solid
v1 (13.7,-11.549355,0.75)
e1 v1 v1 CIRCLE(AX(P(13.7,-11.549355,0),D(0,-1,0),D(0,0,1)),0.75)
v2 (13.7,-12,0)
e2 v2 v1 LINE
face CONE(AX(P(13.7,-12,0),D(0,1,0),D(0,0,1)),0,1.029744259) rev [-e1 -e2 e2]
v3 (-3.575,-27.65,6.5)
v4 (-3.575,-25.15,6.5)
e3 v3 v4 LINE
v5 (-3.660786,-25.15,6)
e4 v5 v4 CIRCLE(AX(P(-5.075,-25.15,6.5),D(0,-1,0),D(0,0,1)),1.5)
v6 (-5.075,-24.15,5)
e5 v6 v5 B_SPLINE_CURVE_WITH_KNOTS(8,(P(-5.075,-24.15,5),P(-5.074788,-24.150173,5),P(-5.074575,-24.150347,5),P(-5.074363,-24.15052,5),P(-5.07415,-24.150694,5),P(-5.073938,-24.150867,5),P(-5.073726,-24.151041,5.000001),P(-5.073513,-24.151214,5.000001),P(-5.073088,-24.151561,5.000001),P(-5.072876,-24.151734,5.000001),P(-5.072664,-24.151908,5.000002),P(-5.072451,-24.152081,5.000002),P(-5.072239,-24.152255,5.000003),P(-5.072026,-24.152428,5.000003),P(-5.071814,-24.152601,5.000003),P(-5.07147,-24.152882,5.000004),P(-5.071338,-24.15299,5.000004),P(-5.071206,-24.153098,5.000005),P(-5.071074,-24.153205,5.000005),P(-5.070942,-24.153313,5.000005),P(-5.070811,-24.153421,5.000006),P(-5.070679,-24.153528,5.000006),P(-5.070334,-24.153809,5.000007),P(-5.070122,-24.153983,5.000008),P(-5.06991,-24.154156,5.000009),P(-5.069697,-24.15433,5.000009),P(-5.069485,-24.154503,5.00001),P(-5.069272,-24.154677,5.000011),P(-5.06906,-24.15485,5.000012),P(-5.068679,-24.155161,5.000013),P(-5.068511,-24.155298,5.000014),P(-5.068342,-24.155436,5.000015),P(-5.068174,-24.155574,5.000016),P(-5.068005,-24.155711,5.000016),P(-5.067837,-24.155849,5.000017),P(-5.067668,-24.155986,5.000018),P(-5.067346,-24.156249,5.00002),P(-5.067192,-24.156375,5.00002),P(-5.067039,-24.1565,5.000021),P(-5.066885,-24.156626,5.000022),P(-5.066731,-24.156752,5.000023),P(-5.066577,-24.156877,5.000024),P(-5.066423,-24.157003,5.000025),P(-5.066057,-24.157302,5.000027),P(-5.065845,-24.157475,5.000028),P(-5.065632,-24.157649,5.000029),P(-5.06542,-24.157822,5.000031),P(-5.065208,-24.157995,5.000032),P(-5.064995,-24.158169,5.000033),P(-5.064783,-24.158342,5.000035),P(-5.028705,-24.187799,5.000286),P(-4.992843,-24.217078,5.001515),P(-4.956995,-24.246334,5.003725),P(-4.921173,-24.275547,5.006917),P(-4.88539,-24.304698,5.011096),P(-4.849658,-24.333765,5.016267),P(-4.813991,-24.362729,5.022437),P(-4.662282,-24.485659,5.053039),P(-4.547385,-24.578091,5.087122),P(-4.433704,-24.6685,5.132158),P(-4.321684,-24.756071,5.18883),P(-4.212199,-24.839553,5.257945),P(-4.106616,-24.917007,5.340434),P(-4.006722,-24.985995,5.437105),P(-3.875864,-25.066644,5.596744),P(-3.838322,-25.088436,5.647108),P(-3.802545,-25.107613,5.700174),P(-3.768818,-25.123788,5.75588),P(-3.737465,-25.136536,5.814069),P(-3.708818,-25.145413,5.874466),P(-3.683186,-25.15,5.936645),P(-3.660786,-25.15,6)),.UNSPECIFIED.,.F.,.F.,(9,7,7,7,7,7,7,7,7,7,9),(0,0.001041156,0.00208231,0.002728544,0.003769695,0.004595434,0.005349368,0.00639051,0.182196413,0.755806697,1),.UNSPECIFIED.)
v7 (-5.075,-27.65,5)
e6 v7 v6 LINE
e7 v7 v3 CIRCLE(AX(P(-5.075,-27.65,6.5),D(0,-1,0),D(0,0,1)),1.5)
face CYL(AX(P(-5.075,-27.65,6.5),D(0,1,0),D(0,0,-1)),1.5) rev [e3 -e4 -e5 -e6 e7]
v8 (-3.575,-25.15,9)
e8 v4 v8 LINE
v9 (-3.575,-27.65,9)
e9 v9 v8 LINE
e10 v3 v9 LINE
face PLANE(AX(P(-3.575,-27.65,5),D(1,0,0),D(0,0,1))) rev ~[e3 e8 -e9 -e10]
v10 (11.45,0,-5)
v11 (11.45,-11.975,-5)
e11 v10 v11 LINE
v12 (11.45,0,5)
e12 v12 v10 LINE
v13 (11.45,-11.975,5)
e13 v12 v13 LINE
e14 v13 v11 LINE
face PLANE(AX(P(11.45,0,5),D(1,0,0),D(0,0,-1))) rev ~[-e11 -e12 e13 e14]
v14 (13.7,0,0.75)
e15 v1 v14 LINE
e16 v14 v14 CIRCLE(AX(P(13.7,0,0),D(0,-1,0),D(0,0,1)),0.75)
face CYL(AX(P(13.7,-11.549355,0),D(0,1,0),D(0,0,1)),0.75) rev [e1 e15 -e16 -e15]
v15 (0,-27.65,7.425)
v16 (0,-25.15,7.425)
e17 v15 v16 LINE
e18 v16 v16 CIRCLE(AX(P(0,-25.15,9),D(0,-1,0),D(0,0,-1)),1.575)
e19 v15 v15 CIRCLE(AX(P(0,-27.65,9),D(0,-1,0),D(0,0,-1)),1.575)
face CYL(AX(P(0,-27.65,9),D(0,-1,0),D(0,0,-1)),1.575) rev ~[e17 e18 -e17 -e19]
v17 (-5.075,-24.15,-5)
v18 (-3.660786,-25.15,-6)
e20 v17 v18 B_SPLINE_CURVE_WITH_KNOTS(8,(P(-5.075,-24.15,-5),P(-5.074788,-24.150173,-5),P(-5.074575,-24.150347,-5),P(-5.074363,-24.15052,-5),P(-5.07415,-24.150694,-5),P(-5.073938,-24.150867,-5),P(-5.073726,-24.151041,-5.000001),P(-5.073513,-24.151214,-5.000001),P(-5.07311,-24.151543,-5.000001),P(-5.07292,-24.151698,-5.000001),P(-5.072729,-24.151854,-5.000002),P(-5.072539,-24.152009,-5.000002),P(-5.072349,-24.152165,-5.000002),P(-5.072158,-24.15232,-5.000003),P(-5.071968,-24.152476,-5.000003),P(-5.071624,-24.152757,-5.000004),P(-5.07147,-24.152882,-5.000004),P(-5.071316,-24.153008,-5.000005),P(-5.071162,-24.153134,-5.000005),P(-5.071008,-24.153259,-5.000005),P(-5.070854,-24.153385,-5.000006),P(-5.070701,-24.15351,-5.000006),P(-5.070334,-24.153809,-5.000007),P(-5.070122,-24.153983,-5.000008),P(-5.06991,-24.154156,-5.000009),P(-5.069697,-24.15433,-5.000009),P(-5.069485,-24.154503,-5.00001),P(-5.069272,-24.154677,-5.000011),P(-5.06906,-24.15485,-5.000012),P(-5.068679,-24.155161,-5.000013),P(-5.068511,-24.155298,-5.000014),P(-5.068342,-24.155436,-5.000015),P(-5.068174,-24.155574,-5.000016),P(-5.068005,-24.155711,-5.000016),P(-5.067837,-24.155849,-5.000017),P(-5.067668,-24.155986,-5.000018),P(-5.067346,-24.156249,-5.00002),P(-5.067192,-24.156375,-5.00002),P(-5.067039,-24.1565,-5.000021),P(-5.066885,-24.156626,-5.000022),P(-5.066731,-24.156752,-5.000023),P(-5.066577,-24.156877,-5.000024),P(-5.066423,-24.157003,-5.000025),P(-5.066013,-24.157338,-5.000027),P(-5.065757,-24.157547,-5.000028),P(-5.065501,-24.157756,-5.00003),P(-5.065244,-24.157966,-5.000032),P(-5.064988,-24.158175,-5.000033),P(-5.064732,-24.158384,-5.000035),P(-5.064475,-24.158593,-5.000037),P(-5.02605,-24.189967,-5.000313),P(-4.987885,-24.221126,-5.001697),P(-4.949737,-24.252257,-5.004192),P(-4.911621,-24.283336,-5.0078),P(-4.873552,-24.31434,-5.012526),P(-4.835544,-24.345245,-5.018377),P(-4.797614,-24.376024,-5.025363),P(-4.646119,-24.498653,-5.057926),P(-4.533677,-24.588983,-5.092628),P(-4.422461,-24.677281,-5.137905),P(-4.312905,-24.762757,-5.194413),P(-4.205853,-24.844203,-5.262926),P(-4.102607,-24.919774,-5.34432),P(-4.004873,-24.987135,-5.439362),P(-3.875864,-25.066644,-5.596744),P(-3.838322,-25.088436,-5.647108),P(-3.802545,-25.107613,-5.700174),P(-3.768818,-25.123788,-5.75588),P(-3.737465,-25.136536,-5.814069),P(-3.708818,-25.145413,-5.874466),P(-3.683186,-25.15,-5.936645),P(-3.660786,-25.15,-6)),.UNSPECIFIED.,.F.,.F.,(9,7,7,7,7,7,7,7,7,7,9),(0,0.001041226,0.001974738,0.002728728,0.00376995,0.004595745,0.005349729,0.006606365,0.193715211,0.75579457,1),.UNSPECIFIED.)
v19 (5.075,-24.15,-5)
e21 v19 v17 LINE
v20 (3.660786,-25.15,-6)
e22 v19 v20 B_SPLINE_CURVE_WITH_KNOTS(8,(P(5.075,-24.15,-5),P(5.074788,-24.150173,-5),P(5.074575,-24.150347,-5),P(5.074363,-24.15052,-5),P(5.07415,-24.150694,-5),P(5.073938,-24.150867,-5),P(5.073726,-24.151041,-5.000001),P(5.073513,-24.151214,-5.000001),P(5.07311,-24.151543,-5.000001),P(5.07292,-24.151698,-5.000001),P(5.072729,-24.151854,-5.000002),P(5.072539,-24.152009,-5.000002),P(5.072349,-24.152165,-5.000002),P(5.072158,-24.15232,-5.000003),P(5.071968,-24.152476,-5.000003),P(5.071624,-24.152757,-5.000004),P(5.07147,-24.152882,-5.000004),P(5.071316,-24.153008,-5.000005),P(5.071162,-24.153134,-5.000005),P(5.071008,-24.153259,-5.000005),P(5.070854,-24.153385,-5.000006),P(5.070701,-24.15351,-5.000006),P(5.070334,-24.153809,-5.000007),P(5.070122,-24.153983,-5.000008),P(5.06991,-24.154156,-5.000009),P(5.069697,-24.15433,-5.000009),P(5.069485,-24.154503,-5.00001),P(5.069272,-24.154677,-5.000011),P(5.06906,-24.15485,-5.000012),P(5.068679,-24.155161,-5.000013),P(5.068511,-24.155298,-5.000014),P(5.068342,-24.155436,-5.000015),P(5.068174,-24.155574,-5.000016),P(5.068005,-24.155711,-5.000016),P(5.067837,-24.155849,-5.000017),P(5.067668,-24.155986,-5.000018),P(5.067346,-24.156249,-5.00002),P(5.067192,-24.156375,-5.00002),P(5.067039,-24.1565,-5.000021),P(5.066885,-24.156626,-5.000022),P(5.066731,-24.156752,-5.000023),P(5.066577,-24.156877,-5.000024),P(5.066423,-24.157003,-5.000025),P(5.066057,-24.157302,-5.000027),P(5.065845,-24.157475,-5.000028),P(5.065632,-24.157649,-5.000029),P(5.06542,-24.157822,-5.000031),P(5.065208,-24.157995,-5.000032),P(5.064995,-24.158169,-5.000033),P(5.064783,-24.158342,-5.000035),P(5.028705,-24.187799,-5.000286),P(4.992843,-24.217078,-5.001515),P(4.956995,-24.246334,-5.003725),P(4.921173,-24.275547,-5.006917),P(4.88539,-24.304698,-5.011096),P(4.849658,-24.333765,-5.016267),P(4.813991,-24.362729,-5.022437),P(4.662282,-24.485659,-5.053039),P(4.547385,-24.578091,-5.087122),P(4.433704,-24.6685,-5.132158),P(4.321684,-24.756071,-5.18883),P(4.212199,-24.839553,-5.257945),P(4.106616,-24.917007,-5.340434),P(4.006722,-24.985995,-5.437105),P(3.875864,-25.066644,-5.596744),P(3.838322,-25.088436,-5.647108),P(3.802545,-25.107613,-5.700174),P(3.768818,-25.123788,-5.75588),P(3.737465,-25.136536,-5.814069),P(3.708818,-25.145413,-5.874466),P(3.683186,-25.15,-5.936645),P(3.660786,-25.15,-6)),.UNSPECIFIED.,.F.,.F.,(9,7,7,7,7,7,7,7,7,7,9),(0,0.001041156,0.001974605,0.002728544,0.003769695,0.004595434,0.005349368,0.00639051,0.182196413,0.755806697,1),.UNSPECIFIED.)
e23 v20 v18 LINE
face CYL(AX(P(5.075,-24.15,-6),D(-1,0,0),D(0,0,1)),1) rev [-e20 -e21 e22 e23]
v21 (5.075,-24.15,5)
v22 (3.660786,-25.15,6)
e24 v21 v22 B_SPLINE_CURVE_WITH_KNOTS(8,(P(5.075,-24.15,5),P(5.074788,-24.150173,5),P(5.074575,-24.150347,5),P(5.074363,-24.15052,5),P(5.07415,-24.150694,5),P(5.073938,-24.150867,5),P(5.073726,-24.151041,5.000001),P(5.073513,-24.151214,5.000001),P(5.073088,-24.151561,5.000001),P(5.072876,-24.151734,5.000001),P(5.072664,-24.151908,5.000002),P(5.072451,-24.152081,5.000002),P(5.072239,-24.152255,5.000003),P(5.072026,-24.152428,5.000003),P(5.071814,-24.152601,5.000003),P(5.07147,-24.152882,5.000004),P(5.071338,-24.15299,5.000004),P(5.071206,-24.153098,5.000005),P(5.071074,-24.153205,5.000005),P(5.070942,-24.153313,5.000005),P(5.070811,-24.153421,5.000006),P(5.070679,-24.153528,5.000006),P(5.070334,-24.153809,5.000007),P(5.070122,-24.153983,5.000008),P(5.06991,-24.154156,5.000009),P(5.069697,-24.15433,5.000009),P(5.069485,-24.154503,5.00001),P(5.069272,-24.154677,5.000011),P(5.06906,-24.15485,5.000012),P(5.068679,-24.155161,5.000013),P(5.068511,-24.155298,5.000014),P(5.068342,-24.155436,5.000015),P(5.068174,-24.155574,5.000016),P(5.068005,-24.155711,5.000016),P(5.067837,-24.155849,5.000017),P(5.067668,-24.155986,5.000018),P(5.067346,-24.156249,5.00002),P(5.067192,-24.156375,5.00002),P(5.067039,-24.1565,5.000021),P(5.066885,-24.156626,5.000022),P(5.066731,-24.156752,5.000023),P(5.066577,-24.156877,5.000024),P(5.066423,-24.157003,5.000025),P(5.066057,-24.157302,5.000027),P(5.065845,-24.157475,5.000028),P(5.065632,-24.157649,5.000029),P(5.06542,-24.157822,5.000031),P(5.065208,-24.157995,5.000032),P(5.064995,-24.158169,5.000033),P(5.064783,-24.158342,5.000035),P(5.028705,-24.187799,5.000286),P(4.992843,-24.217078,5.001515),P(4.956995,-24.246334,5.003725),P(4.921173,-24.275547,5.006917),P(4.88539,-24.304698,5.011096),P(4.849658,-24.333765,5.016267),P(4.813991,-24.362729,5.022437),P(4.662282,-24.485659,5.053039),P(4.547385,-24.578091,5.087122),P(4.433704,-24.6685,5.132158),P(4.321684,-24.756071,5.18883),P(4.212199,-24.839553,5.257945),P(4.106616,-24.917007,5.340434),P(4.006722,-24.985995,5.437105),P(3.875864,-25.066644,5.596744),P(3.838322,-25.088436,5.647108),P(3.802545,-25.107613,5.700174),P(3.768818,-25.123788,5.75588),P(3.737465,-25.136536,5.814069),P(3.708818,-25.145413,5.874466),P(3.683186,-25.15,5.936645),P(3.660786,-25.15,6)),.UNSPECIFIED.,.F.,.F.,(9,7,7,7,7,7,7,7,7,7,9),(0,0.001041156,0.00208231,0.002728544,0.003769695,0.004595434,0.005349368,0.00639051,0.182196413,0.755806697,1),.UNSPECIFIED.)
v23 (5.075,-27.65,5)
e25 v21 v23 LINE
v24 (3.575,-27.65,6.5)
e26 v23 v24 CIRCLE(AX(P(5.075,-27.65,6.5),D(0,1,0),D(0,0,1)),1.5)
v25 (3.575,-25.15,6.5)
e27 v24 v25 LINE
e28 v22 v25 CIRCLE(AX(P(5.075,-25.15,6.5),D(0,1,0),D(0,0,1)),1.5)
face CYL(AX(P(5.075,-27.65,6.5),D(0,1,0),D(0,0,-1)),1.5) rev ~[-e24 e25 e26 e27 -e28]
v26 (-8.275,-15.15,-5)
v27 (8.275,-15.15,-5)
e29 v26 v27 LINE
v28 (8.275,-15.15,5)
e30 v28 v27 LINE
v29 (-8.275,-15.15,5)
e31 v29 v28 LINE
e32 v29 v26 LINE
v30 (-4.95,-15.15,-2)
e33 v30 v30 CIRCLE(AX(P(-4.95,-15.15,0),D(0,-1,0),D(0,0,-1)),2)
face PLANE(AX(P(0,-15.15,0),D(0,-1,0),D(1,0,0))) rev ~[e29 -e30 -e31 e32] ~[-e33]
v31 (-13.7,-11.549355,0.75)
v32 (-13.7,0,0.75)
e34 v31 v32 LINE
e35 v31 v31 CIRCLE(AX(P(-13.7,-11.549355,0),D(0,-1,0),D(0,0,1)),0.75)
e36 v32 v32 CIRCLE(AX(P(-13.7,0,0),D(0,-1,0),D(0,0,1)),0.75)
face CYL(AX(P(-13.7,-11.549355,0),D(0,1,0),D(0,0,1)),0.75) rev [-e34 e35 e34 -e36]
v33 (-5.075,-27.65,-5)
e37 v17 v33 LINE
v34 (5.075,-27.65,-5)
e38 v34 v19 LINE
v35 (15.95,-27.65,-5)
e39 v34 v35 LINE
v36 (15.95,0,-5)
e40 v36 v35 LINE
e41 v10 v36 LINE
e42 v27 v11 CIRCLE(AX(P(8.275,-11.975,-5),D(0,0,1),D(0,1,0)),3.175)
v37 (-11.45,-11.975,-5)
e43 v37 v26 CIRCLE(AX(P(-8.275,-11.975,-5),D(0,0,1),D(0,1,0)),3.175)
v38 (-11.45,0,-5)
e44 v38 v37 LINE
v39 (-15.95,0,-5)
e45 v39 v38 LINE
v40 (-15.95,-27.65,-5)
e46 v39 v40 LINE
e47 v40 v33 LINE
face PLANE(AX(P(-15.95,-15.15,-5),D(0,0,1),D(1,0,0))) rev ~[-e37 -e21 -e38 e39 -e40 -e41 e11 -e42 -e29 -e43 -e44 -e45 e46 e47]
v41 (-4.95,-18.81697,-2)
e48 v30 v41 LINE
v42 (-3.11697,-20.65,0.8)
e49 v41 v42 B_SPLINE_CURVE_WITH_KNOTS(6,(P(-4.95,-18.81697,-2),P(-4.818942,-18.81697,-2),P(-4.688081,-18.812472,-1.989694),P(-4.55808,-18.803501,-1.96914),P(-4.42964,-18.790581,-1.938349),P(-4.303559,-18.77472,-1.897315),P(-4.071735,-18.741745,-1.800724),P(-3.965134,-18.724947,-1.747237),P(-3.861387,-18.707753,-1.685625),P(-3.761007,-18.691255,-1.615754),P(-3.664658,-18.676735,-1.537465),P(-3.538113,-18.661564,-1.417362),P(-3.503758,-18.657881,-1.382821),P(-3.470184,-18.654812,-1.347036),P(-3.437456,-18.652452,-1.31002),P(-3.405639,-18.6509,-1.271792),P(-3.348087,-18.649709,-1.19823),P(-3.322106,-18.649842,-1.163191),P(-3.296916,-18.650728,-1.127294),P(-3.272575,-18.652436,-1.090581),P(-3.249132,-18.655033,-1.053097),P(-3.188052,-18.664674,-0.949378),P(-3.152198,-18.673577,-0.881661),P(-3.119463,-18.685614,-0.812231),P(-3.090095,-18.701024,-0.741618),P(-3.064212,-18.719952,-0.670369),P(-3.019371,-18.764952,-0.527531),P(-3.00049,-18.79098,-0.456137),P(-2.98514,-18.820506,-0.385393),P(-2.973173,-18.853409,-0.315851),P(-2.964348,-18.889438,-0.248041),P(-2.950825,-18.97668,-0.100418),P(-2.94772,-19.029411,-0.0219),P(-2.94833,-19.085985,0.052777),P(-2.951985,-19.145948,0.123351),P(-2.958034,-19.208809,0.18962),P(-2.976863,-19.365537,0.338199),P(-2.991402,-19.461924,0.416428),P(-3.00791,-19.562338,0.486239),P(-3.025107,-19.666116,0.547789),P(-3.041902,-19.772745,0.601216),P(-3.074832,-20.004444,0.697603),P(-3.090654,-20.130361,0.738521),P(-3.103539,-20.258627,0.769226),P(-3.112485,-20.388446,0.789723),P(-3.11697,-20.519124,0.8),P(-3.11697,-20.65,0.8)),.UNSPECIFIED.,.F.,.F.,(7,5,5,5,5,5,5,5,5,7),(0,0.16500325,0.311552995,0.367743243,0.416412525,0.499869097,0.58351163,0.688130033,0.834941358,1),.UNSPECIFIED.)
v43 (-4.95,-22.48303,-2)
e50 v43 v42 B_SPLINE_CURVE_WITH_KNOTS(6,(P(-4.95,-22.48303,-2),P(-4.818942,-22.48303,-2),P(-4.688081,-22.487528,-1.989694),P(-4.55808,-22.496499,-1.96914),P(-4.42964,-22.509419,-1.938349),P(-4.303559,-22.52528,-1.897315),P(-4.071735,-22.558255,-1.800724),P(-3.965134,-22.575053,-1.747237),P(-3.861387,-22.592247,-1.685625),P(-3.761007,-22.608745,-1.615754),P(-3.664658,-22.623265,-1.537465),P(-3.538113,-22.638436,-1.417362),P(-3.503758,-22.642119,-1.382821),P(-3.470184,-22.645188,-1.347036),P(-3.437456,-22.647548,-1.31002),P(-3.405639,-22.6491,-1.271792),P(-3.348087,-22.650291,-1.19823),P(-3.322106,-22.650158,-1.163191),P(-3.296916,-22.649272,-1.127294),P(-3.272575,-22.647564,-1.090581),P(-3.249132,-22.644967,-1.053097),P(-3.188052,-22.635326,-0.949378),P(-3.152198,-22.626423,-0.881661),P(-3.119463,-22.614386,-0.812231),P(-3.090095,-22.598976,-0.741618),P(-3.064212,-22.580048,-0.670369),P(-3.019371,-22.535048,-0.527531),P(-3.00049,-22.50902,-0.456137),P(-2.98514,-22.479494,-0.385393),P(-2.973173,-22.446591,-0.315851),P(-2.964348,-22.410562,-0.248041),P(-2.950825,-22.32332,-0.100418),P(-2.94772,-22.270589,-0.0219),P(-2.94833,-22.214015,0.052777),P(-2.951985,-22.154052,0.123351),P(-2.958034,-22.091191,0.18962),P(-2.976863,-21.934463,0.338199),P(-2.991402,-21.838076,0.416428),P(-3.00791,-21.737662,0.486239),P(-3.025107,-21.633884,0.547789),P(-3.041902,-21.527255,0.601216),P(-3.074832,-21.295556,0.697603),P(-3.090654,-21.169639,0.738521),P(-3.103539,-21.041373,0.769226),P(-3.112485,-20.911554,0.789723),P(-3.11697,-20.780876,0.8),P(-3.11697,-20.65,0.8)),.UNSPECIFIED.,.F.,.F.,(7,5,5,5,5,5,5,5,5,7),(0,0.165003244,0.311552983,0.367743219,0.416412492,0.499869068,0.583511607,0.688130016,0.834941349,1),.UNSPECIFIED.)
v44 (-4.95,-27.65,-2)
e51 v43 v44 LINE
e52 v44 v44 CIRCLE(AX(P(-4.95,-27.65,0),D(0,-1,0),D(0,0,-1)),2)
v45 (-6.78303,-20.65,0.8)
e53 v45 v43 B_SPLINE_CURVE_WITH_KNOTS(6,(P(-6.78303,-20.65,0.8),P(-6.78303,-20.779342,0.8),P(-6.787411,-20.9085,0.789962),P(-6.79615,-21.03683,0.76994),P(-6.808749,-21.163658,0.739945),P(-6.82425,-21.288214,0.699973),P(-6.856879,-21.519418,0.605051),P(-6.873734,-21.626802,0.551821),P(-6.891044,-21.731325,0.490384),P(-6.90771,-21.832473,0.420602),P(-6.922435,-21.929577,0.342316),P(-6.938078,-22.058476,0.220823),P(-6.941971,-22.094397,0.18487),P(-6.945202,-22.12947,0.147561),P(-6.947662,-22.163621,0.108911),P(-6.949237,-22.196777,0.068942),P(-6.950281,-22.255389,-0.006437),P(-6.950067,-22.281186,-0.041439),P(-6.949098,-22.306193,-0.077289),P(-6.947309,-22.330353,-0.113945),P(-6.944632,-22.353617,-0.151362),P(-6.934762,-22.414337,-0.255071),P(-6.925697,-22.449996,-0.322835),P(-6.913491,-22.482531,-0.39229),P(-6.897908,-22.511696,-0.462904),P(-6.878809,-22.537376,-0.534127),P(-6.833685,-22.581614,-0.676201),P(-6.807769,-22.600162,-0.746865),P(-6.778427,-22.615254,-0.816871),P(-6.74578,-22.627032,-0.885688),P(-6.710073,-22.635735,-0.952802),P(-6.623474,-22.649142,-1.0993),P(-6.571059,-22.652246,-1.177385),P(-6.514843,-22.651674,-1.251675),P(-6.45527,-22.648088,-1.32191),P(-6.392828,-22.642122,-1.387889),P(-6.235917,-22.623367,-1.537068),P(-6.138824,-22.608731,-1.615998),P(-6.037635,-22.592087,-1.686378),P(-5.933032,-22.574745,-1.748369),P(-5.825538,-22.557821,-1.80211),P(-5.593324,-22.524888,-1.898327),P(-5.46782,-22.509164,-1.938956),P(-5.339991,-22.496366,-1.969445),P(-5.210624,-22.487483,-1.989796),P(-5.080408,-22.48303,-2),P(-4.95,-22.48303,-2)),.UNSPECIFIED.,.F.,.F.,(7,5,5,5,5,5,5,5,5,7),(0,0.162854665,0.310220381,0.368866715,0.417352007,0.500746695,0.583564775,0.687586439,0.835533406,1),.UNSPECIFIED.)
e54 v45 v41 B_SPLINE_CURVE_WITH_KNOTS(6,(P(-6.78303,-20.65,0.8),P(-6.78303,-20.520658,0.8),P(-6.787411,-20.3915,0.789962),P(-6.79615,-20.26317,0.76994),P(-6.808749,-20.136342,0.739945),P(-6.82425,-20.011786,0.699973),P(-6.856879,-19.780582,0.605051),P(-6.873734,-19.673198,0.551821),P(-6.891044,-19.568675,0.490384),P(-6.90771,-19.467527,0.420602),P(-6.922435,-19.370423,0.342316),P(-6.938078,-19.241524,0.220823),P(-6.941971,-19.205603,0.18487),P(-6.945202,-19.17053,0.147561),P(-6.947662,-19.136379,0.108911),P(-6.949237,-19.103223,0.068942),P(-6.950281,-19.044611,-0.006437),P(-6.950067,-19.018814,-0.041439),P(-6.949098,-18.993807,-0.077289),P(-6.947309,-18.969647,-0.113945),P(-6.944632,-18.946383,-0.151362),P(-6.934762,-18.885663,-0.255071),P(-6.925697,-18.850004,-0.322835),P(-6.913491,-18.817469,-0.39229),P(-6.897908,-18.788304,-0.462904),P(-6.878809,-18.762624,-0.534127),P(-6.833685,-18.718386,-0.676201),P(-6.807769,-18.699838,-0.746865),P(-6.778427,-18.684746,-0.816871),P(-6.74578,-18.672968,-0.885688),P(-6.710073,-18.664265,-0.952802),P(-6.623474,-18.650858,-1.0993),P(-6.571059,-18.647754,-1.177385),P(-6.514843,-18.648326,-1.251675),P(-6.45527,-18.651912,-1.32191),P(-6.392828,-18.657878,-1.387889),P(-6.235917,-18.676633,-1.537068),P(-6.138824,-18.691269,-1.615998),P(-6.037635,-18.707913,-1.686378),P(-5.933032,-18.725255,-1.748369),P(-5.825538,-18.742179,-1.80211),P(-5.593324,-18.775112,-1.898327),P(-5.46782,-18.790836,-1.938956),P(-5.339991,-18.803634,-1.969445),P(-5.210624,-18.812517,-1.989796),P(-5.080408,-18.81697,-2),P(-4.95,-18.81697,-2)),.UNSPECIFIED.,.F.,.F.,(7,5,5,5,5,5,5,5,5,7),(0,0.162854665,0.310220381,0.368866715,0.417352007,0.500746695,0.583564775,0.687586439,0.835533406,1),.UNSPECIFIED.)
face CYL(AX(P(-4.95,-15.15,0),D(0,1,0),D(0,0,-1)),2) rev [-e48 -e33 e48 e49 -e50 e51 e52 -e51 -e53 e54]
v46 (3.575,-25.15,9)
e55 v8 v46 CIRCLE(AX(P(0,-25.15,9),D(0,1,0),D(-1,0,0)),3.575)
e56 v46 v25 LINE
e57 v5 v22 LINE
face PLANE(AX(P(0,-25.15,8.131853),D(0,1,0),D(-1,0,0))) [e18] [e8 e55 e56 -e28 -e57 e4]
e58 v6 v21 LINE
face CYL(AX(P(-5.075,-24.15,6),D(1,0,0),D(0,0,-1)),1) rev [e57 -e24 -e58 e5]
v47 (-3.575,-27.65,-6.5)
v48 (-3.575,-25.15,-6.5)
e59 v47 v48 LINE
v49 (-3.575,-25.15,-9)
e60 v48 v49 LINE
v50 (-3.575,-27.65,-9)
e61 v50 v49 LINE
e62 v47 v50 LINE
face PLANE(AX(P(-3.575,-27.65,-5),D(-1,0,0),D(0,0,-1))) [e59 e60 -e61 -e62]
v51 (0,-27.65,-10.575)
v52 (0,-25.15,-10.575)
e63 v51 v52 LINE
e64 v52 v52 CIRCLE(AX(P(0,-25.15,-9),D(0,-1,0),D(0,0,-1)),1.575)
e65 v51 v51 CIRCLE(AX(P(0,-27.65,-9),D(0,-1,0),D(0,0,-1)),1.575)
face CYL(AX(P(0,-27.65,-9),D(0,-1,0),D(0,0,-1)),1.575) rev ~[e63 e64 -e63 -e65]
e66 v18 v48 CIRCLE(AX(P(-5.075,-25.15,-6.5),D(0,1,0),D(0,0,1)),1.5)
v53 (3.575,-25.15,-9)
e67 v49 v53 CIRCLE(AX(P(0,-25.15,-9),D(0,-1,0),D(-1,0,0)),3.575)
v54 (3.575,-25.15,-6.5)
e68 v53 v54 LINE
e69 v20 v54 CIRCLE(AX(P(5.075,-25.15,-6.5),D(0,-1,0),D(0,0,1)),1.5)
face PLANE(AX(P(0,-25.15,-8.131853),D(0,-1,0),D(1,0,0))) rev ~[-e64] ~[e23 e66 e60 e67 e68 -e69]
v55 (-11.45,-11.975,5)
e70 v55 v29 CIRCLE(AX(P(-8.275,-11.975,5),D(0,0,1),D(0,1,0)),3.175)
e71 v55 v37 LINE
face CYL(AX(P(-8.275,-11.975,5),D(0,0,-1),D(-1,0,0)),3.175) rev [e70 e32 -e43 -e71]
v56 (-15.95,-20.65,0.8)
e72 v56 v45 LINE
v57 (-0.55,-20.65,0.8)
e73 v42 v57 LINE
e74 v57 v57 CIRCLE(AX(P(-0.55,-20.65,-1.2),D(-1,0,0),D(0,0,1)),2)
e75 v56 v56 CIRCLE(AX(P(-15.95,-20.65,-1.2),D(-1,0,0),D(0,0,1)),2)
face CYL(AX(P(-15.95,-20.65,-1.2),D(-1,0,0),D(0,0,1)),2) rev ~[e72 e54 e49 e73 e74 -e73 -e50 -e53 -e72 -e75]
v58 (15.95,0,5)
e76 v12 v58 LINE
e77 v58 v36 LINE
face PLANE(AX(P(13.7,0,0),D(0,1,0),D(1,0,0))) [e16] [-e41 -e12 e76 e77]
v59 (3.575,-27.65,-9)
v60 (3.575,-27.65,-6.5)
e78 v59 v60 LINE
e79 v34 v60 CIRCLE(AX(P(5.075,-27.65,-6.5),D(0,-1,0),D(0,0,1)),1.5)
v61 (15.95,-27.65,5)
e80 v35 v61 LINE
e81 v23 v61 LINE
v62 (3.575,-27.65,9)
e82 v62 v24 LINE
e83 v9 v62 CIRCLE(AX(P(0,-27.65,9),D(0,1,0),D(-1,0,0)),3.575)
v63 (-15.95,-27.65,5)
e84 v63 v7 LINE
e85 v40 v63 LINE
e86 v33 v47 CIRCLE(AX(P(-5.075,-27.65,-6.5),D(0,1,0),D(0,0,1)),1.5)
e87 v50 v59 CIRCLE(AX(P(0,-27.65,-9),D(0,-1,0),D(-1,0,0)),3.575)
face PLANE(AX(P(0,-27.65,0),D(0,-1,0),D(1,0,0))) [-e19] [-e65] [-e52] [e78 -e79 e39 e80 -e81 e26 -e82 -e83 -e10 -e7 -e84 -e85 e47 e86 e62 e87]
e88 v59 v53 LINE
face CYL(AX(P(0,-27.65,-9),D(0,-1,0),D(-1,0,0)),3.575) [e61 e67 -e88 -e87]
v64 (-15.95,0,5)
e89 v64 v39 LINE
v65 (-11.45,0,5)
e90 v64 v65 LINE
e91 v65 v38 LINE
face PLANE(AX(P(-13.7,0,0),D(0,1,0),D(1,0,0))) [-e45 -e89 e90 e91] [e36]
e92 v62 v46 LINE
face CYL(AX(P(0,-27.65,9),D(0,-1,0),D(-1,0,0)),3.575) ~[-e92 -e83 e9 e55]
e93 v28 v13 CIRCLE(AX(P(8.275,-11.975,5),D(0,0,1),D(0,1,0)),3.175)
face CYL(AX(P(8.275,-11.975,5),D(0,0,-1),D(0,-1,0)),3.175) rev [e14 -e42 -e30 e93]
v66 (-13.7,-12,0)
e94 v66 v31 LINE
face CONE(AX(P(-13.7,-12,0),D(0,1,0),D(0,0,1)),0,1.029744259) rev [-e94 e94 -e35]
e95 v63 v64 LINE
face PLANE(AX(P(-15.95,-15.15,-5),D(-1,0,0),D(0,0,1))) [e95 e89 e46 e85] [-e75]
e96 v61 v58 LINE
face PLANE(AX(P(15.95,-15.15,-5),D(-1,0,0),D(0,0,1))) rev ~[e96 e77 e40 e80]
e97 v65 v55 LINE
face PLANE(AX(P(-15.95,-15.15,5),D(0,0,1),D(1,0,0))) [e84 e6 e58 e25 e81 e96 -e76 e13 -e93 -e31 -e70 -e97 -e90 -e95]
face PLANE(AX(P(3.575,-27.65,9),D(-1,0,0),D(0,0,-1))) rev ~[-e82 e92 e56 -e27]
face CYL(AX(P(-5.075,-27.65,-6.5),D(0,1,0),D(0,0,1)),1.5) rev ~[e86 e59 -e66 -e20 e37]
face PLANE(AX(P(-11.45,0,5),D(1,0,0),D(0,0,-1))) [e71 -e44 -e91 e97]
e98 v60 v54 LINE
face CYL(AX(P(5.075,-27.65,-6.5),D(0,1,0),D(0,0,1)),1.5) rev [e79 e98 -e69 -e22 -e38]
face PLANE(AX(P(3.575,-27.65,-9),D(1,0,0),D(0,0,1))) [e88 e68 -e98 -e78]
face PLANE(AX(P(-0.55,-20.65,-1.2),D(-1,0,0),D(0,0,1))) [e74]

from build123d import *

# Parameters (mm, degrees)
SKETCH1_W                      = 4.5
SKETCH1_H                      = 10
BOSS_EXTRUDE1_DEPTH            = 15.15
BOSS_EXTRUDE1_2_DEPTH          = 15.15
F_1_5MM_DOWEL_HOLE1_AT_2_COUNT = 2
F_1_5MM_DOWEL_HOLE1_AT_2_PITCH = 27.4
SKETCH5_W                      = 31.9
SKETCH5_H                      = 10
SKETCH5_R                      = 2
BOSS_EXTRUDE2_DEPTH            = 12.5
FILLET1_R                      = 3.175
SKETCH6_R                      = 2
CUT_EXTRUDE1_DEPTH             = 15.4
SKETCH7_R                      = 1.575
BOSS_EXTRUDE3_DEPTH            = 2.5
FILLET3_R                      = 1.5
FILLET4_R                      = 1


with BuildPart() as part:
    # Sketch1 → Boss-Extrude1 (new body)
    with BuildSketch(Plane(origin=(0, 0, 0), x_dir=(1, 0, 0), z_dir=(0, 1, 0))):
        with Locations((-13.7, 0)):
            Rectangle(SKETCH1_W, SKETCH1_H)
    extrude(amount=-BOSS_EXTRUDE1_DEPTH)

    # Sketch4 → Ø1.5mm Dowel Hole1 (revolve, cut)
    with BuildSketch(Plane(origin=(-13.7, 0, 0), x_dir=(0, 0, 1), z_dir=(1, 0, 0))):
        Polygon((0, 0), (0, 12), (0.75, 11.549354536), (0.75, 0), align=None)
    f_1_5mm_dowel_hole1 = revolve(axis=Axis((-13.7, 6.35, 0), (0, -1, 0)), mode=Mode.SUBTRACT)



with BuildPart() as body_2:
    # Sketch1 → Boss-Extrude1 2 (new body)
    with BuildSketch(Plane(origin=(0, 0, 0), x_dir=(1, 0, 0), z_dir=(0, 1, 0))):
        with Locations((13.7, 0)):
            Rectangle(SKETCH1_W, SKETCH1_H)
    extrude(amount=-BOSS_EXTRUDE1_2_DEPTH)

    # Ø1.5mm Dowel Hole1 at 2: Ø1.5mm Dowel Hole1 ×2
    with Locations(*[(i * F_1_5MM_DOWEL_HOLE1_AT_2_PITCH, 0, 0) for i in range(1, F_1_5MM_DOWEL_HOLE1_AT_2_COUNT)]):
        add(f_1_5mm_dowel_hole1, mode=Mode.SUBTRACT)


with BuildPart() as part_1:
    add(part.part)

    add(body_2.part)  # Boss-Extrude2 merges body 2
    # Sketch5 → Boss-Extrude2 (add)
    with BuildSketch(Plane.XZ.offset(15.15)):
        Rectangle(SKETCH5_W, SKETCH5_H)
        with Locations(Location((-4.95, 0, 0), (0, 0, 270))):
            Circle(SKETCH5_R, mode=Mode.SUBTRACT)
    extrude(amount=BOSS_EXTRUDE2_DEPTH)

    # Fillet1
    fillet1_edges = [part_1.edges().sort_by_distance(p)[0] for p in [
        (-11.45, -15.15, 0),
        (11.45, -15.15, 0),
    ]]
    fillet(fillet1_edges, radius=FILLET1_R)

    # Sketch6 → Cut-Extrude1 (cut)
    with BuildSketch(Plane.ZY.offset(15.95)):
        with Locations((-1.2, -20.65)):
            Circle(SKETCH6_R)
    extrude(amount=-CUT_EXTRUDE1_DEPTH, mode=Mode.SUBTRACT)

    # Sketch7 → Boss-Extrude3 (add)
    # profile 1 of 2: a face of its own
    with BuildSketch(Plane.XZ.offset(27.65)):
        with BuildLine():
            Line((3.575, 9), (3.575, 5))
            Line((3.575, 5), (-3.575, 5))
            Line((-3.575, 5), (-3.575, 9))
            ThreePointArc((-3.575, 9), (0, 12.575), (3.575, 9))
        make_face()
        with Locations(Location((0, 9, 0), (0, 0, 270))):
            Circle(SKETCH7_R, mode=Mode.SUBTRACT)
    # profile 2 of 2: a face of its own
    with BuildSketch(Plane.XZ.offset(27.65)):
        with BuildLine():
            Line((3.575, -5), (-3.575, -5))
            Line((-3.575, -5), (-3.575, -9))
            ThreePointArc((-3.575, -9), (0, -12.575), (3.575, -9))
            Line((3.575, -9), (3.575, -5))
        make_face()
        with Locations(Location((0, -9, 0), (0, 0, 270))):
            Circle(SKETCH7_R, mode=Mode.SUBTRACT)
    extrude(amount=-BOSS_EXTRUDE3_DEPTH)

    # Fillet3
    fillet3_edges = [part_1.edges().sort_by_distance(p)[0] for p in [
        (3.575, -26.4, 5),
        (-3.575, -26.4, 5),
        (-3.575, -26.4, -5),
        (3.575, -26.4, -5),
    ]]
    fillet(fillet3_edges, radius=FILLET3_R)

    # Fillet4
    fillet4_edges = [part_1.edges().sort_by_distance(p)[0] for p in [
        (0, -25.15, 5),
        (0, -25.15, -5),
    ]]
    fillet(fillet4_edges, radius=FILLET4_R)


solid = part_1.part
